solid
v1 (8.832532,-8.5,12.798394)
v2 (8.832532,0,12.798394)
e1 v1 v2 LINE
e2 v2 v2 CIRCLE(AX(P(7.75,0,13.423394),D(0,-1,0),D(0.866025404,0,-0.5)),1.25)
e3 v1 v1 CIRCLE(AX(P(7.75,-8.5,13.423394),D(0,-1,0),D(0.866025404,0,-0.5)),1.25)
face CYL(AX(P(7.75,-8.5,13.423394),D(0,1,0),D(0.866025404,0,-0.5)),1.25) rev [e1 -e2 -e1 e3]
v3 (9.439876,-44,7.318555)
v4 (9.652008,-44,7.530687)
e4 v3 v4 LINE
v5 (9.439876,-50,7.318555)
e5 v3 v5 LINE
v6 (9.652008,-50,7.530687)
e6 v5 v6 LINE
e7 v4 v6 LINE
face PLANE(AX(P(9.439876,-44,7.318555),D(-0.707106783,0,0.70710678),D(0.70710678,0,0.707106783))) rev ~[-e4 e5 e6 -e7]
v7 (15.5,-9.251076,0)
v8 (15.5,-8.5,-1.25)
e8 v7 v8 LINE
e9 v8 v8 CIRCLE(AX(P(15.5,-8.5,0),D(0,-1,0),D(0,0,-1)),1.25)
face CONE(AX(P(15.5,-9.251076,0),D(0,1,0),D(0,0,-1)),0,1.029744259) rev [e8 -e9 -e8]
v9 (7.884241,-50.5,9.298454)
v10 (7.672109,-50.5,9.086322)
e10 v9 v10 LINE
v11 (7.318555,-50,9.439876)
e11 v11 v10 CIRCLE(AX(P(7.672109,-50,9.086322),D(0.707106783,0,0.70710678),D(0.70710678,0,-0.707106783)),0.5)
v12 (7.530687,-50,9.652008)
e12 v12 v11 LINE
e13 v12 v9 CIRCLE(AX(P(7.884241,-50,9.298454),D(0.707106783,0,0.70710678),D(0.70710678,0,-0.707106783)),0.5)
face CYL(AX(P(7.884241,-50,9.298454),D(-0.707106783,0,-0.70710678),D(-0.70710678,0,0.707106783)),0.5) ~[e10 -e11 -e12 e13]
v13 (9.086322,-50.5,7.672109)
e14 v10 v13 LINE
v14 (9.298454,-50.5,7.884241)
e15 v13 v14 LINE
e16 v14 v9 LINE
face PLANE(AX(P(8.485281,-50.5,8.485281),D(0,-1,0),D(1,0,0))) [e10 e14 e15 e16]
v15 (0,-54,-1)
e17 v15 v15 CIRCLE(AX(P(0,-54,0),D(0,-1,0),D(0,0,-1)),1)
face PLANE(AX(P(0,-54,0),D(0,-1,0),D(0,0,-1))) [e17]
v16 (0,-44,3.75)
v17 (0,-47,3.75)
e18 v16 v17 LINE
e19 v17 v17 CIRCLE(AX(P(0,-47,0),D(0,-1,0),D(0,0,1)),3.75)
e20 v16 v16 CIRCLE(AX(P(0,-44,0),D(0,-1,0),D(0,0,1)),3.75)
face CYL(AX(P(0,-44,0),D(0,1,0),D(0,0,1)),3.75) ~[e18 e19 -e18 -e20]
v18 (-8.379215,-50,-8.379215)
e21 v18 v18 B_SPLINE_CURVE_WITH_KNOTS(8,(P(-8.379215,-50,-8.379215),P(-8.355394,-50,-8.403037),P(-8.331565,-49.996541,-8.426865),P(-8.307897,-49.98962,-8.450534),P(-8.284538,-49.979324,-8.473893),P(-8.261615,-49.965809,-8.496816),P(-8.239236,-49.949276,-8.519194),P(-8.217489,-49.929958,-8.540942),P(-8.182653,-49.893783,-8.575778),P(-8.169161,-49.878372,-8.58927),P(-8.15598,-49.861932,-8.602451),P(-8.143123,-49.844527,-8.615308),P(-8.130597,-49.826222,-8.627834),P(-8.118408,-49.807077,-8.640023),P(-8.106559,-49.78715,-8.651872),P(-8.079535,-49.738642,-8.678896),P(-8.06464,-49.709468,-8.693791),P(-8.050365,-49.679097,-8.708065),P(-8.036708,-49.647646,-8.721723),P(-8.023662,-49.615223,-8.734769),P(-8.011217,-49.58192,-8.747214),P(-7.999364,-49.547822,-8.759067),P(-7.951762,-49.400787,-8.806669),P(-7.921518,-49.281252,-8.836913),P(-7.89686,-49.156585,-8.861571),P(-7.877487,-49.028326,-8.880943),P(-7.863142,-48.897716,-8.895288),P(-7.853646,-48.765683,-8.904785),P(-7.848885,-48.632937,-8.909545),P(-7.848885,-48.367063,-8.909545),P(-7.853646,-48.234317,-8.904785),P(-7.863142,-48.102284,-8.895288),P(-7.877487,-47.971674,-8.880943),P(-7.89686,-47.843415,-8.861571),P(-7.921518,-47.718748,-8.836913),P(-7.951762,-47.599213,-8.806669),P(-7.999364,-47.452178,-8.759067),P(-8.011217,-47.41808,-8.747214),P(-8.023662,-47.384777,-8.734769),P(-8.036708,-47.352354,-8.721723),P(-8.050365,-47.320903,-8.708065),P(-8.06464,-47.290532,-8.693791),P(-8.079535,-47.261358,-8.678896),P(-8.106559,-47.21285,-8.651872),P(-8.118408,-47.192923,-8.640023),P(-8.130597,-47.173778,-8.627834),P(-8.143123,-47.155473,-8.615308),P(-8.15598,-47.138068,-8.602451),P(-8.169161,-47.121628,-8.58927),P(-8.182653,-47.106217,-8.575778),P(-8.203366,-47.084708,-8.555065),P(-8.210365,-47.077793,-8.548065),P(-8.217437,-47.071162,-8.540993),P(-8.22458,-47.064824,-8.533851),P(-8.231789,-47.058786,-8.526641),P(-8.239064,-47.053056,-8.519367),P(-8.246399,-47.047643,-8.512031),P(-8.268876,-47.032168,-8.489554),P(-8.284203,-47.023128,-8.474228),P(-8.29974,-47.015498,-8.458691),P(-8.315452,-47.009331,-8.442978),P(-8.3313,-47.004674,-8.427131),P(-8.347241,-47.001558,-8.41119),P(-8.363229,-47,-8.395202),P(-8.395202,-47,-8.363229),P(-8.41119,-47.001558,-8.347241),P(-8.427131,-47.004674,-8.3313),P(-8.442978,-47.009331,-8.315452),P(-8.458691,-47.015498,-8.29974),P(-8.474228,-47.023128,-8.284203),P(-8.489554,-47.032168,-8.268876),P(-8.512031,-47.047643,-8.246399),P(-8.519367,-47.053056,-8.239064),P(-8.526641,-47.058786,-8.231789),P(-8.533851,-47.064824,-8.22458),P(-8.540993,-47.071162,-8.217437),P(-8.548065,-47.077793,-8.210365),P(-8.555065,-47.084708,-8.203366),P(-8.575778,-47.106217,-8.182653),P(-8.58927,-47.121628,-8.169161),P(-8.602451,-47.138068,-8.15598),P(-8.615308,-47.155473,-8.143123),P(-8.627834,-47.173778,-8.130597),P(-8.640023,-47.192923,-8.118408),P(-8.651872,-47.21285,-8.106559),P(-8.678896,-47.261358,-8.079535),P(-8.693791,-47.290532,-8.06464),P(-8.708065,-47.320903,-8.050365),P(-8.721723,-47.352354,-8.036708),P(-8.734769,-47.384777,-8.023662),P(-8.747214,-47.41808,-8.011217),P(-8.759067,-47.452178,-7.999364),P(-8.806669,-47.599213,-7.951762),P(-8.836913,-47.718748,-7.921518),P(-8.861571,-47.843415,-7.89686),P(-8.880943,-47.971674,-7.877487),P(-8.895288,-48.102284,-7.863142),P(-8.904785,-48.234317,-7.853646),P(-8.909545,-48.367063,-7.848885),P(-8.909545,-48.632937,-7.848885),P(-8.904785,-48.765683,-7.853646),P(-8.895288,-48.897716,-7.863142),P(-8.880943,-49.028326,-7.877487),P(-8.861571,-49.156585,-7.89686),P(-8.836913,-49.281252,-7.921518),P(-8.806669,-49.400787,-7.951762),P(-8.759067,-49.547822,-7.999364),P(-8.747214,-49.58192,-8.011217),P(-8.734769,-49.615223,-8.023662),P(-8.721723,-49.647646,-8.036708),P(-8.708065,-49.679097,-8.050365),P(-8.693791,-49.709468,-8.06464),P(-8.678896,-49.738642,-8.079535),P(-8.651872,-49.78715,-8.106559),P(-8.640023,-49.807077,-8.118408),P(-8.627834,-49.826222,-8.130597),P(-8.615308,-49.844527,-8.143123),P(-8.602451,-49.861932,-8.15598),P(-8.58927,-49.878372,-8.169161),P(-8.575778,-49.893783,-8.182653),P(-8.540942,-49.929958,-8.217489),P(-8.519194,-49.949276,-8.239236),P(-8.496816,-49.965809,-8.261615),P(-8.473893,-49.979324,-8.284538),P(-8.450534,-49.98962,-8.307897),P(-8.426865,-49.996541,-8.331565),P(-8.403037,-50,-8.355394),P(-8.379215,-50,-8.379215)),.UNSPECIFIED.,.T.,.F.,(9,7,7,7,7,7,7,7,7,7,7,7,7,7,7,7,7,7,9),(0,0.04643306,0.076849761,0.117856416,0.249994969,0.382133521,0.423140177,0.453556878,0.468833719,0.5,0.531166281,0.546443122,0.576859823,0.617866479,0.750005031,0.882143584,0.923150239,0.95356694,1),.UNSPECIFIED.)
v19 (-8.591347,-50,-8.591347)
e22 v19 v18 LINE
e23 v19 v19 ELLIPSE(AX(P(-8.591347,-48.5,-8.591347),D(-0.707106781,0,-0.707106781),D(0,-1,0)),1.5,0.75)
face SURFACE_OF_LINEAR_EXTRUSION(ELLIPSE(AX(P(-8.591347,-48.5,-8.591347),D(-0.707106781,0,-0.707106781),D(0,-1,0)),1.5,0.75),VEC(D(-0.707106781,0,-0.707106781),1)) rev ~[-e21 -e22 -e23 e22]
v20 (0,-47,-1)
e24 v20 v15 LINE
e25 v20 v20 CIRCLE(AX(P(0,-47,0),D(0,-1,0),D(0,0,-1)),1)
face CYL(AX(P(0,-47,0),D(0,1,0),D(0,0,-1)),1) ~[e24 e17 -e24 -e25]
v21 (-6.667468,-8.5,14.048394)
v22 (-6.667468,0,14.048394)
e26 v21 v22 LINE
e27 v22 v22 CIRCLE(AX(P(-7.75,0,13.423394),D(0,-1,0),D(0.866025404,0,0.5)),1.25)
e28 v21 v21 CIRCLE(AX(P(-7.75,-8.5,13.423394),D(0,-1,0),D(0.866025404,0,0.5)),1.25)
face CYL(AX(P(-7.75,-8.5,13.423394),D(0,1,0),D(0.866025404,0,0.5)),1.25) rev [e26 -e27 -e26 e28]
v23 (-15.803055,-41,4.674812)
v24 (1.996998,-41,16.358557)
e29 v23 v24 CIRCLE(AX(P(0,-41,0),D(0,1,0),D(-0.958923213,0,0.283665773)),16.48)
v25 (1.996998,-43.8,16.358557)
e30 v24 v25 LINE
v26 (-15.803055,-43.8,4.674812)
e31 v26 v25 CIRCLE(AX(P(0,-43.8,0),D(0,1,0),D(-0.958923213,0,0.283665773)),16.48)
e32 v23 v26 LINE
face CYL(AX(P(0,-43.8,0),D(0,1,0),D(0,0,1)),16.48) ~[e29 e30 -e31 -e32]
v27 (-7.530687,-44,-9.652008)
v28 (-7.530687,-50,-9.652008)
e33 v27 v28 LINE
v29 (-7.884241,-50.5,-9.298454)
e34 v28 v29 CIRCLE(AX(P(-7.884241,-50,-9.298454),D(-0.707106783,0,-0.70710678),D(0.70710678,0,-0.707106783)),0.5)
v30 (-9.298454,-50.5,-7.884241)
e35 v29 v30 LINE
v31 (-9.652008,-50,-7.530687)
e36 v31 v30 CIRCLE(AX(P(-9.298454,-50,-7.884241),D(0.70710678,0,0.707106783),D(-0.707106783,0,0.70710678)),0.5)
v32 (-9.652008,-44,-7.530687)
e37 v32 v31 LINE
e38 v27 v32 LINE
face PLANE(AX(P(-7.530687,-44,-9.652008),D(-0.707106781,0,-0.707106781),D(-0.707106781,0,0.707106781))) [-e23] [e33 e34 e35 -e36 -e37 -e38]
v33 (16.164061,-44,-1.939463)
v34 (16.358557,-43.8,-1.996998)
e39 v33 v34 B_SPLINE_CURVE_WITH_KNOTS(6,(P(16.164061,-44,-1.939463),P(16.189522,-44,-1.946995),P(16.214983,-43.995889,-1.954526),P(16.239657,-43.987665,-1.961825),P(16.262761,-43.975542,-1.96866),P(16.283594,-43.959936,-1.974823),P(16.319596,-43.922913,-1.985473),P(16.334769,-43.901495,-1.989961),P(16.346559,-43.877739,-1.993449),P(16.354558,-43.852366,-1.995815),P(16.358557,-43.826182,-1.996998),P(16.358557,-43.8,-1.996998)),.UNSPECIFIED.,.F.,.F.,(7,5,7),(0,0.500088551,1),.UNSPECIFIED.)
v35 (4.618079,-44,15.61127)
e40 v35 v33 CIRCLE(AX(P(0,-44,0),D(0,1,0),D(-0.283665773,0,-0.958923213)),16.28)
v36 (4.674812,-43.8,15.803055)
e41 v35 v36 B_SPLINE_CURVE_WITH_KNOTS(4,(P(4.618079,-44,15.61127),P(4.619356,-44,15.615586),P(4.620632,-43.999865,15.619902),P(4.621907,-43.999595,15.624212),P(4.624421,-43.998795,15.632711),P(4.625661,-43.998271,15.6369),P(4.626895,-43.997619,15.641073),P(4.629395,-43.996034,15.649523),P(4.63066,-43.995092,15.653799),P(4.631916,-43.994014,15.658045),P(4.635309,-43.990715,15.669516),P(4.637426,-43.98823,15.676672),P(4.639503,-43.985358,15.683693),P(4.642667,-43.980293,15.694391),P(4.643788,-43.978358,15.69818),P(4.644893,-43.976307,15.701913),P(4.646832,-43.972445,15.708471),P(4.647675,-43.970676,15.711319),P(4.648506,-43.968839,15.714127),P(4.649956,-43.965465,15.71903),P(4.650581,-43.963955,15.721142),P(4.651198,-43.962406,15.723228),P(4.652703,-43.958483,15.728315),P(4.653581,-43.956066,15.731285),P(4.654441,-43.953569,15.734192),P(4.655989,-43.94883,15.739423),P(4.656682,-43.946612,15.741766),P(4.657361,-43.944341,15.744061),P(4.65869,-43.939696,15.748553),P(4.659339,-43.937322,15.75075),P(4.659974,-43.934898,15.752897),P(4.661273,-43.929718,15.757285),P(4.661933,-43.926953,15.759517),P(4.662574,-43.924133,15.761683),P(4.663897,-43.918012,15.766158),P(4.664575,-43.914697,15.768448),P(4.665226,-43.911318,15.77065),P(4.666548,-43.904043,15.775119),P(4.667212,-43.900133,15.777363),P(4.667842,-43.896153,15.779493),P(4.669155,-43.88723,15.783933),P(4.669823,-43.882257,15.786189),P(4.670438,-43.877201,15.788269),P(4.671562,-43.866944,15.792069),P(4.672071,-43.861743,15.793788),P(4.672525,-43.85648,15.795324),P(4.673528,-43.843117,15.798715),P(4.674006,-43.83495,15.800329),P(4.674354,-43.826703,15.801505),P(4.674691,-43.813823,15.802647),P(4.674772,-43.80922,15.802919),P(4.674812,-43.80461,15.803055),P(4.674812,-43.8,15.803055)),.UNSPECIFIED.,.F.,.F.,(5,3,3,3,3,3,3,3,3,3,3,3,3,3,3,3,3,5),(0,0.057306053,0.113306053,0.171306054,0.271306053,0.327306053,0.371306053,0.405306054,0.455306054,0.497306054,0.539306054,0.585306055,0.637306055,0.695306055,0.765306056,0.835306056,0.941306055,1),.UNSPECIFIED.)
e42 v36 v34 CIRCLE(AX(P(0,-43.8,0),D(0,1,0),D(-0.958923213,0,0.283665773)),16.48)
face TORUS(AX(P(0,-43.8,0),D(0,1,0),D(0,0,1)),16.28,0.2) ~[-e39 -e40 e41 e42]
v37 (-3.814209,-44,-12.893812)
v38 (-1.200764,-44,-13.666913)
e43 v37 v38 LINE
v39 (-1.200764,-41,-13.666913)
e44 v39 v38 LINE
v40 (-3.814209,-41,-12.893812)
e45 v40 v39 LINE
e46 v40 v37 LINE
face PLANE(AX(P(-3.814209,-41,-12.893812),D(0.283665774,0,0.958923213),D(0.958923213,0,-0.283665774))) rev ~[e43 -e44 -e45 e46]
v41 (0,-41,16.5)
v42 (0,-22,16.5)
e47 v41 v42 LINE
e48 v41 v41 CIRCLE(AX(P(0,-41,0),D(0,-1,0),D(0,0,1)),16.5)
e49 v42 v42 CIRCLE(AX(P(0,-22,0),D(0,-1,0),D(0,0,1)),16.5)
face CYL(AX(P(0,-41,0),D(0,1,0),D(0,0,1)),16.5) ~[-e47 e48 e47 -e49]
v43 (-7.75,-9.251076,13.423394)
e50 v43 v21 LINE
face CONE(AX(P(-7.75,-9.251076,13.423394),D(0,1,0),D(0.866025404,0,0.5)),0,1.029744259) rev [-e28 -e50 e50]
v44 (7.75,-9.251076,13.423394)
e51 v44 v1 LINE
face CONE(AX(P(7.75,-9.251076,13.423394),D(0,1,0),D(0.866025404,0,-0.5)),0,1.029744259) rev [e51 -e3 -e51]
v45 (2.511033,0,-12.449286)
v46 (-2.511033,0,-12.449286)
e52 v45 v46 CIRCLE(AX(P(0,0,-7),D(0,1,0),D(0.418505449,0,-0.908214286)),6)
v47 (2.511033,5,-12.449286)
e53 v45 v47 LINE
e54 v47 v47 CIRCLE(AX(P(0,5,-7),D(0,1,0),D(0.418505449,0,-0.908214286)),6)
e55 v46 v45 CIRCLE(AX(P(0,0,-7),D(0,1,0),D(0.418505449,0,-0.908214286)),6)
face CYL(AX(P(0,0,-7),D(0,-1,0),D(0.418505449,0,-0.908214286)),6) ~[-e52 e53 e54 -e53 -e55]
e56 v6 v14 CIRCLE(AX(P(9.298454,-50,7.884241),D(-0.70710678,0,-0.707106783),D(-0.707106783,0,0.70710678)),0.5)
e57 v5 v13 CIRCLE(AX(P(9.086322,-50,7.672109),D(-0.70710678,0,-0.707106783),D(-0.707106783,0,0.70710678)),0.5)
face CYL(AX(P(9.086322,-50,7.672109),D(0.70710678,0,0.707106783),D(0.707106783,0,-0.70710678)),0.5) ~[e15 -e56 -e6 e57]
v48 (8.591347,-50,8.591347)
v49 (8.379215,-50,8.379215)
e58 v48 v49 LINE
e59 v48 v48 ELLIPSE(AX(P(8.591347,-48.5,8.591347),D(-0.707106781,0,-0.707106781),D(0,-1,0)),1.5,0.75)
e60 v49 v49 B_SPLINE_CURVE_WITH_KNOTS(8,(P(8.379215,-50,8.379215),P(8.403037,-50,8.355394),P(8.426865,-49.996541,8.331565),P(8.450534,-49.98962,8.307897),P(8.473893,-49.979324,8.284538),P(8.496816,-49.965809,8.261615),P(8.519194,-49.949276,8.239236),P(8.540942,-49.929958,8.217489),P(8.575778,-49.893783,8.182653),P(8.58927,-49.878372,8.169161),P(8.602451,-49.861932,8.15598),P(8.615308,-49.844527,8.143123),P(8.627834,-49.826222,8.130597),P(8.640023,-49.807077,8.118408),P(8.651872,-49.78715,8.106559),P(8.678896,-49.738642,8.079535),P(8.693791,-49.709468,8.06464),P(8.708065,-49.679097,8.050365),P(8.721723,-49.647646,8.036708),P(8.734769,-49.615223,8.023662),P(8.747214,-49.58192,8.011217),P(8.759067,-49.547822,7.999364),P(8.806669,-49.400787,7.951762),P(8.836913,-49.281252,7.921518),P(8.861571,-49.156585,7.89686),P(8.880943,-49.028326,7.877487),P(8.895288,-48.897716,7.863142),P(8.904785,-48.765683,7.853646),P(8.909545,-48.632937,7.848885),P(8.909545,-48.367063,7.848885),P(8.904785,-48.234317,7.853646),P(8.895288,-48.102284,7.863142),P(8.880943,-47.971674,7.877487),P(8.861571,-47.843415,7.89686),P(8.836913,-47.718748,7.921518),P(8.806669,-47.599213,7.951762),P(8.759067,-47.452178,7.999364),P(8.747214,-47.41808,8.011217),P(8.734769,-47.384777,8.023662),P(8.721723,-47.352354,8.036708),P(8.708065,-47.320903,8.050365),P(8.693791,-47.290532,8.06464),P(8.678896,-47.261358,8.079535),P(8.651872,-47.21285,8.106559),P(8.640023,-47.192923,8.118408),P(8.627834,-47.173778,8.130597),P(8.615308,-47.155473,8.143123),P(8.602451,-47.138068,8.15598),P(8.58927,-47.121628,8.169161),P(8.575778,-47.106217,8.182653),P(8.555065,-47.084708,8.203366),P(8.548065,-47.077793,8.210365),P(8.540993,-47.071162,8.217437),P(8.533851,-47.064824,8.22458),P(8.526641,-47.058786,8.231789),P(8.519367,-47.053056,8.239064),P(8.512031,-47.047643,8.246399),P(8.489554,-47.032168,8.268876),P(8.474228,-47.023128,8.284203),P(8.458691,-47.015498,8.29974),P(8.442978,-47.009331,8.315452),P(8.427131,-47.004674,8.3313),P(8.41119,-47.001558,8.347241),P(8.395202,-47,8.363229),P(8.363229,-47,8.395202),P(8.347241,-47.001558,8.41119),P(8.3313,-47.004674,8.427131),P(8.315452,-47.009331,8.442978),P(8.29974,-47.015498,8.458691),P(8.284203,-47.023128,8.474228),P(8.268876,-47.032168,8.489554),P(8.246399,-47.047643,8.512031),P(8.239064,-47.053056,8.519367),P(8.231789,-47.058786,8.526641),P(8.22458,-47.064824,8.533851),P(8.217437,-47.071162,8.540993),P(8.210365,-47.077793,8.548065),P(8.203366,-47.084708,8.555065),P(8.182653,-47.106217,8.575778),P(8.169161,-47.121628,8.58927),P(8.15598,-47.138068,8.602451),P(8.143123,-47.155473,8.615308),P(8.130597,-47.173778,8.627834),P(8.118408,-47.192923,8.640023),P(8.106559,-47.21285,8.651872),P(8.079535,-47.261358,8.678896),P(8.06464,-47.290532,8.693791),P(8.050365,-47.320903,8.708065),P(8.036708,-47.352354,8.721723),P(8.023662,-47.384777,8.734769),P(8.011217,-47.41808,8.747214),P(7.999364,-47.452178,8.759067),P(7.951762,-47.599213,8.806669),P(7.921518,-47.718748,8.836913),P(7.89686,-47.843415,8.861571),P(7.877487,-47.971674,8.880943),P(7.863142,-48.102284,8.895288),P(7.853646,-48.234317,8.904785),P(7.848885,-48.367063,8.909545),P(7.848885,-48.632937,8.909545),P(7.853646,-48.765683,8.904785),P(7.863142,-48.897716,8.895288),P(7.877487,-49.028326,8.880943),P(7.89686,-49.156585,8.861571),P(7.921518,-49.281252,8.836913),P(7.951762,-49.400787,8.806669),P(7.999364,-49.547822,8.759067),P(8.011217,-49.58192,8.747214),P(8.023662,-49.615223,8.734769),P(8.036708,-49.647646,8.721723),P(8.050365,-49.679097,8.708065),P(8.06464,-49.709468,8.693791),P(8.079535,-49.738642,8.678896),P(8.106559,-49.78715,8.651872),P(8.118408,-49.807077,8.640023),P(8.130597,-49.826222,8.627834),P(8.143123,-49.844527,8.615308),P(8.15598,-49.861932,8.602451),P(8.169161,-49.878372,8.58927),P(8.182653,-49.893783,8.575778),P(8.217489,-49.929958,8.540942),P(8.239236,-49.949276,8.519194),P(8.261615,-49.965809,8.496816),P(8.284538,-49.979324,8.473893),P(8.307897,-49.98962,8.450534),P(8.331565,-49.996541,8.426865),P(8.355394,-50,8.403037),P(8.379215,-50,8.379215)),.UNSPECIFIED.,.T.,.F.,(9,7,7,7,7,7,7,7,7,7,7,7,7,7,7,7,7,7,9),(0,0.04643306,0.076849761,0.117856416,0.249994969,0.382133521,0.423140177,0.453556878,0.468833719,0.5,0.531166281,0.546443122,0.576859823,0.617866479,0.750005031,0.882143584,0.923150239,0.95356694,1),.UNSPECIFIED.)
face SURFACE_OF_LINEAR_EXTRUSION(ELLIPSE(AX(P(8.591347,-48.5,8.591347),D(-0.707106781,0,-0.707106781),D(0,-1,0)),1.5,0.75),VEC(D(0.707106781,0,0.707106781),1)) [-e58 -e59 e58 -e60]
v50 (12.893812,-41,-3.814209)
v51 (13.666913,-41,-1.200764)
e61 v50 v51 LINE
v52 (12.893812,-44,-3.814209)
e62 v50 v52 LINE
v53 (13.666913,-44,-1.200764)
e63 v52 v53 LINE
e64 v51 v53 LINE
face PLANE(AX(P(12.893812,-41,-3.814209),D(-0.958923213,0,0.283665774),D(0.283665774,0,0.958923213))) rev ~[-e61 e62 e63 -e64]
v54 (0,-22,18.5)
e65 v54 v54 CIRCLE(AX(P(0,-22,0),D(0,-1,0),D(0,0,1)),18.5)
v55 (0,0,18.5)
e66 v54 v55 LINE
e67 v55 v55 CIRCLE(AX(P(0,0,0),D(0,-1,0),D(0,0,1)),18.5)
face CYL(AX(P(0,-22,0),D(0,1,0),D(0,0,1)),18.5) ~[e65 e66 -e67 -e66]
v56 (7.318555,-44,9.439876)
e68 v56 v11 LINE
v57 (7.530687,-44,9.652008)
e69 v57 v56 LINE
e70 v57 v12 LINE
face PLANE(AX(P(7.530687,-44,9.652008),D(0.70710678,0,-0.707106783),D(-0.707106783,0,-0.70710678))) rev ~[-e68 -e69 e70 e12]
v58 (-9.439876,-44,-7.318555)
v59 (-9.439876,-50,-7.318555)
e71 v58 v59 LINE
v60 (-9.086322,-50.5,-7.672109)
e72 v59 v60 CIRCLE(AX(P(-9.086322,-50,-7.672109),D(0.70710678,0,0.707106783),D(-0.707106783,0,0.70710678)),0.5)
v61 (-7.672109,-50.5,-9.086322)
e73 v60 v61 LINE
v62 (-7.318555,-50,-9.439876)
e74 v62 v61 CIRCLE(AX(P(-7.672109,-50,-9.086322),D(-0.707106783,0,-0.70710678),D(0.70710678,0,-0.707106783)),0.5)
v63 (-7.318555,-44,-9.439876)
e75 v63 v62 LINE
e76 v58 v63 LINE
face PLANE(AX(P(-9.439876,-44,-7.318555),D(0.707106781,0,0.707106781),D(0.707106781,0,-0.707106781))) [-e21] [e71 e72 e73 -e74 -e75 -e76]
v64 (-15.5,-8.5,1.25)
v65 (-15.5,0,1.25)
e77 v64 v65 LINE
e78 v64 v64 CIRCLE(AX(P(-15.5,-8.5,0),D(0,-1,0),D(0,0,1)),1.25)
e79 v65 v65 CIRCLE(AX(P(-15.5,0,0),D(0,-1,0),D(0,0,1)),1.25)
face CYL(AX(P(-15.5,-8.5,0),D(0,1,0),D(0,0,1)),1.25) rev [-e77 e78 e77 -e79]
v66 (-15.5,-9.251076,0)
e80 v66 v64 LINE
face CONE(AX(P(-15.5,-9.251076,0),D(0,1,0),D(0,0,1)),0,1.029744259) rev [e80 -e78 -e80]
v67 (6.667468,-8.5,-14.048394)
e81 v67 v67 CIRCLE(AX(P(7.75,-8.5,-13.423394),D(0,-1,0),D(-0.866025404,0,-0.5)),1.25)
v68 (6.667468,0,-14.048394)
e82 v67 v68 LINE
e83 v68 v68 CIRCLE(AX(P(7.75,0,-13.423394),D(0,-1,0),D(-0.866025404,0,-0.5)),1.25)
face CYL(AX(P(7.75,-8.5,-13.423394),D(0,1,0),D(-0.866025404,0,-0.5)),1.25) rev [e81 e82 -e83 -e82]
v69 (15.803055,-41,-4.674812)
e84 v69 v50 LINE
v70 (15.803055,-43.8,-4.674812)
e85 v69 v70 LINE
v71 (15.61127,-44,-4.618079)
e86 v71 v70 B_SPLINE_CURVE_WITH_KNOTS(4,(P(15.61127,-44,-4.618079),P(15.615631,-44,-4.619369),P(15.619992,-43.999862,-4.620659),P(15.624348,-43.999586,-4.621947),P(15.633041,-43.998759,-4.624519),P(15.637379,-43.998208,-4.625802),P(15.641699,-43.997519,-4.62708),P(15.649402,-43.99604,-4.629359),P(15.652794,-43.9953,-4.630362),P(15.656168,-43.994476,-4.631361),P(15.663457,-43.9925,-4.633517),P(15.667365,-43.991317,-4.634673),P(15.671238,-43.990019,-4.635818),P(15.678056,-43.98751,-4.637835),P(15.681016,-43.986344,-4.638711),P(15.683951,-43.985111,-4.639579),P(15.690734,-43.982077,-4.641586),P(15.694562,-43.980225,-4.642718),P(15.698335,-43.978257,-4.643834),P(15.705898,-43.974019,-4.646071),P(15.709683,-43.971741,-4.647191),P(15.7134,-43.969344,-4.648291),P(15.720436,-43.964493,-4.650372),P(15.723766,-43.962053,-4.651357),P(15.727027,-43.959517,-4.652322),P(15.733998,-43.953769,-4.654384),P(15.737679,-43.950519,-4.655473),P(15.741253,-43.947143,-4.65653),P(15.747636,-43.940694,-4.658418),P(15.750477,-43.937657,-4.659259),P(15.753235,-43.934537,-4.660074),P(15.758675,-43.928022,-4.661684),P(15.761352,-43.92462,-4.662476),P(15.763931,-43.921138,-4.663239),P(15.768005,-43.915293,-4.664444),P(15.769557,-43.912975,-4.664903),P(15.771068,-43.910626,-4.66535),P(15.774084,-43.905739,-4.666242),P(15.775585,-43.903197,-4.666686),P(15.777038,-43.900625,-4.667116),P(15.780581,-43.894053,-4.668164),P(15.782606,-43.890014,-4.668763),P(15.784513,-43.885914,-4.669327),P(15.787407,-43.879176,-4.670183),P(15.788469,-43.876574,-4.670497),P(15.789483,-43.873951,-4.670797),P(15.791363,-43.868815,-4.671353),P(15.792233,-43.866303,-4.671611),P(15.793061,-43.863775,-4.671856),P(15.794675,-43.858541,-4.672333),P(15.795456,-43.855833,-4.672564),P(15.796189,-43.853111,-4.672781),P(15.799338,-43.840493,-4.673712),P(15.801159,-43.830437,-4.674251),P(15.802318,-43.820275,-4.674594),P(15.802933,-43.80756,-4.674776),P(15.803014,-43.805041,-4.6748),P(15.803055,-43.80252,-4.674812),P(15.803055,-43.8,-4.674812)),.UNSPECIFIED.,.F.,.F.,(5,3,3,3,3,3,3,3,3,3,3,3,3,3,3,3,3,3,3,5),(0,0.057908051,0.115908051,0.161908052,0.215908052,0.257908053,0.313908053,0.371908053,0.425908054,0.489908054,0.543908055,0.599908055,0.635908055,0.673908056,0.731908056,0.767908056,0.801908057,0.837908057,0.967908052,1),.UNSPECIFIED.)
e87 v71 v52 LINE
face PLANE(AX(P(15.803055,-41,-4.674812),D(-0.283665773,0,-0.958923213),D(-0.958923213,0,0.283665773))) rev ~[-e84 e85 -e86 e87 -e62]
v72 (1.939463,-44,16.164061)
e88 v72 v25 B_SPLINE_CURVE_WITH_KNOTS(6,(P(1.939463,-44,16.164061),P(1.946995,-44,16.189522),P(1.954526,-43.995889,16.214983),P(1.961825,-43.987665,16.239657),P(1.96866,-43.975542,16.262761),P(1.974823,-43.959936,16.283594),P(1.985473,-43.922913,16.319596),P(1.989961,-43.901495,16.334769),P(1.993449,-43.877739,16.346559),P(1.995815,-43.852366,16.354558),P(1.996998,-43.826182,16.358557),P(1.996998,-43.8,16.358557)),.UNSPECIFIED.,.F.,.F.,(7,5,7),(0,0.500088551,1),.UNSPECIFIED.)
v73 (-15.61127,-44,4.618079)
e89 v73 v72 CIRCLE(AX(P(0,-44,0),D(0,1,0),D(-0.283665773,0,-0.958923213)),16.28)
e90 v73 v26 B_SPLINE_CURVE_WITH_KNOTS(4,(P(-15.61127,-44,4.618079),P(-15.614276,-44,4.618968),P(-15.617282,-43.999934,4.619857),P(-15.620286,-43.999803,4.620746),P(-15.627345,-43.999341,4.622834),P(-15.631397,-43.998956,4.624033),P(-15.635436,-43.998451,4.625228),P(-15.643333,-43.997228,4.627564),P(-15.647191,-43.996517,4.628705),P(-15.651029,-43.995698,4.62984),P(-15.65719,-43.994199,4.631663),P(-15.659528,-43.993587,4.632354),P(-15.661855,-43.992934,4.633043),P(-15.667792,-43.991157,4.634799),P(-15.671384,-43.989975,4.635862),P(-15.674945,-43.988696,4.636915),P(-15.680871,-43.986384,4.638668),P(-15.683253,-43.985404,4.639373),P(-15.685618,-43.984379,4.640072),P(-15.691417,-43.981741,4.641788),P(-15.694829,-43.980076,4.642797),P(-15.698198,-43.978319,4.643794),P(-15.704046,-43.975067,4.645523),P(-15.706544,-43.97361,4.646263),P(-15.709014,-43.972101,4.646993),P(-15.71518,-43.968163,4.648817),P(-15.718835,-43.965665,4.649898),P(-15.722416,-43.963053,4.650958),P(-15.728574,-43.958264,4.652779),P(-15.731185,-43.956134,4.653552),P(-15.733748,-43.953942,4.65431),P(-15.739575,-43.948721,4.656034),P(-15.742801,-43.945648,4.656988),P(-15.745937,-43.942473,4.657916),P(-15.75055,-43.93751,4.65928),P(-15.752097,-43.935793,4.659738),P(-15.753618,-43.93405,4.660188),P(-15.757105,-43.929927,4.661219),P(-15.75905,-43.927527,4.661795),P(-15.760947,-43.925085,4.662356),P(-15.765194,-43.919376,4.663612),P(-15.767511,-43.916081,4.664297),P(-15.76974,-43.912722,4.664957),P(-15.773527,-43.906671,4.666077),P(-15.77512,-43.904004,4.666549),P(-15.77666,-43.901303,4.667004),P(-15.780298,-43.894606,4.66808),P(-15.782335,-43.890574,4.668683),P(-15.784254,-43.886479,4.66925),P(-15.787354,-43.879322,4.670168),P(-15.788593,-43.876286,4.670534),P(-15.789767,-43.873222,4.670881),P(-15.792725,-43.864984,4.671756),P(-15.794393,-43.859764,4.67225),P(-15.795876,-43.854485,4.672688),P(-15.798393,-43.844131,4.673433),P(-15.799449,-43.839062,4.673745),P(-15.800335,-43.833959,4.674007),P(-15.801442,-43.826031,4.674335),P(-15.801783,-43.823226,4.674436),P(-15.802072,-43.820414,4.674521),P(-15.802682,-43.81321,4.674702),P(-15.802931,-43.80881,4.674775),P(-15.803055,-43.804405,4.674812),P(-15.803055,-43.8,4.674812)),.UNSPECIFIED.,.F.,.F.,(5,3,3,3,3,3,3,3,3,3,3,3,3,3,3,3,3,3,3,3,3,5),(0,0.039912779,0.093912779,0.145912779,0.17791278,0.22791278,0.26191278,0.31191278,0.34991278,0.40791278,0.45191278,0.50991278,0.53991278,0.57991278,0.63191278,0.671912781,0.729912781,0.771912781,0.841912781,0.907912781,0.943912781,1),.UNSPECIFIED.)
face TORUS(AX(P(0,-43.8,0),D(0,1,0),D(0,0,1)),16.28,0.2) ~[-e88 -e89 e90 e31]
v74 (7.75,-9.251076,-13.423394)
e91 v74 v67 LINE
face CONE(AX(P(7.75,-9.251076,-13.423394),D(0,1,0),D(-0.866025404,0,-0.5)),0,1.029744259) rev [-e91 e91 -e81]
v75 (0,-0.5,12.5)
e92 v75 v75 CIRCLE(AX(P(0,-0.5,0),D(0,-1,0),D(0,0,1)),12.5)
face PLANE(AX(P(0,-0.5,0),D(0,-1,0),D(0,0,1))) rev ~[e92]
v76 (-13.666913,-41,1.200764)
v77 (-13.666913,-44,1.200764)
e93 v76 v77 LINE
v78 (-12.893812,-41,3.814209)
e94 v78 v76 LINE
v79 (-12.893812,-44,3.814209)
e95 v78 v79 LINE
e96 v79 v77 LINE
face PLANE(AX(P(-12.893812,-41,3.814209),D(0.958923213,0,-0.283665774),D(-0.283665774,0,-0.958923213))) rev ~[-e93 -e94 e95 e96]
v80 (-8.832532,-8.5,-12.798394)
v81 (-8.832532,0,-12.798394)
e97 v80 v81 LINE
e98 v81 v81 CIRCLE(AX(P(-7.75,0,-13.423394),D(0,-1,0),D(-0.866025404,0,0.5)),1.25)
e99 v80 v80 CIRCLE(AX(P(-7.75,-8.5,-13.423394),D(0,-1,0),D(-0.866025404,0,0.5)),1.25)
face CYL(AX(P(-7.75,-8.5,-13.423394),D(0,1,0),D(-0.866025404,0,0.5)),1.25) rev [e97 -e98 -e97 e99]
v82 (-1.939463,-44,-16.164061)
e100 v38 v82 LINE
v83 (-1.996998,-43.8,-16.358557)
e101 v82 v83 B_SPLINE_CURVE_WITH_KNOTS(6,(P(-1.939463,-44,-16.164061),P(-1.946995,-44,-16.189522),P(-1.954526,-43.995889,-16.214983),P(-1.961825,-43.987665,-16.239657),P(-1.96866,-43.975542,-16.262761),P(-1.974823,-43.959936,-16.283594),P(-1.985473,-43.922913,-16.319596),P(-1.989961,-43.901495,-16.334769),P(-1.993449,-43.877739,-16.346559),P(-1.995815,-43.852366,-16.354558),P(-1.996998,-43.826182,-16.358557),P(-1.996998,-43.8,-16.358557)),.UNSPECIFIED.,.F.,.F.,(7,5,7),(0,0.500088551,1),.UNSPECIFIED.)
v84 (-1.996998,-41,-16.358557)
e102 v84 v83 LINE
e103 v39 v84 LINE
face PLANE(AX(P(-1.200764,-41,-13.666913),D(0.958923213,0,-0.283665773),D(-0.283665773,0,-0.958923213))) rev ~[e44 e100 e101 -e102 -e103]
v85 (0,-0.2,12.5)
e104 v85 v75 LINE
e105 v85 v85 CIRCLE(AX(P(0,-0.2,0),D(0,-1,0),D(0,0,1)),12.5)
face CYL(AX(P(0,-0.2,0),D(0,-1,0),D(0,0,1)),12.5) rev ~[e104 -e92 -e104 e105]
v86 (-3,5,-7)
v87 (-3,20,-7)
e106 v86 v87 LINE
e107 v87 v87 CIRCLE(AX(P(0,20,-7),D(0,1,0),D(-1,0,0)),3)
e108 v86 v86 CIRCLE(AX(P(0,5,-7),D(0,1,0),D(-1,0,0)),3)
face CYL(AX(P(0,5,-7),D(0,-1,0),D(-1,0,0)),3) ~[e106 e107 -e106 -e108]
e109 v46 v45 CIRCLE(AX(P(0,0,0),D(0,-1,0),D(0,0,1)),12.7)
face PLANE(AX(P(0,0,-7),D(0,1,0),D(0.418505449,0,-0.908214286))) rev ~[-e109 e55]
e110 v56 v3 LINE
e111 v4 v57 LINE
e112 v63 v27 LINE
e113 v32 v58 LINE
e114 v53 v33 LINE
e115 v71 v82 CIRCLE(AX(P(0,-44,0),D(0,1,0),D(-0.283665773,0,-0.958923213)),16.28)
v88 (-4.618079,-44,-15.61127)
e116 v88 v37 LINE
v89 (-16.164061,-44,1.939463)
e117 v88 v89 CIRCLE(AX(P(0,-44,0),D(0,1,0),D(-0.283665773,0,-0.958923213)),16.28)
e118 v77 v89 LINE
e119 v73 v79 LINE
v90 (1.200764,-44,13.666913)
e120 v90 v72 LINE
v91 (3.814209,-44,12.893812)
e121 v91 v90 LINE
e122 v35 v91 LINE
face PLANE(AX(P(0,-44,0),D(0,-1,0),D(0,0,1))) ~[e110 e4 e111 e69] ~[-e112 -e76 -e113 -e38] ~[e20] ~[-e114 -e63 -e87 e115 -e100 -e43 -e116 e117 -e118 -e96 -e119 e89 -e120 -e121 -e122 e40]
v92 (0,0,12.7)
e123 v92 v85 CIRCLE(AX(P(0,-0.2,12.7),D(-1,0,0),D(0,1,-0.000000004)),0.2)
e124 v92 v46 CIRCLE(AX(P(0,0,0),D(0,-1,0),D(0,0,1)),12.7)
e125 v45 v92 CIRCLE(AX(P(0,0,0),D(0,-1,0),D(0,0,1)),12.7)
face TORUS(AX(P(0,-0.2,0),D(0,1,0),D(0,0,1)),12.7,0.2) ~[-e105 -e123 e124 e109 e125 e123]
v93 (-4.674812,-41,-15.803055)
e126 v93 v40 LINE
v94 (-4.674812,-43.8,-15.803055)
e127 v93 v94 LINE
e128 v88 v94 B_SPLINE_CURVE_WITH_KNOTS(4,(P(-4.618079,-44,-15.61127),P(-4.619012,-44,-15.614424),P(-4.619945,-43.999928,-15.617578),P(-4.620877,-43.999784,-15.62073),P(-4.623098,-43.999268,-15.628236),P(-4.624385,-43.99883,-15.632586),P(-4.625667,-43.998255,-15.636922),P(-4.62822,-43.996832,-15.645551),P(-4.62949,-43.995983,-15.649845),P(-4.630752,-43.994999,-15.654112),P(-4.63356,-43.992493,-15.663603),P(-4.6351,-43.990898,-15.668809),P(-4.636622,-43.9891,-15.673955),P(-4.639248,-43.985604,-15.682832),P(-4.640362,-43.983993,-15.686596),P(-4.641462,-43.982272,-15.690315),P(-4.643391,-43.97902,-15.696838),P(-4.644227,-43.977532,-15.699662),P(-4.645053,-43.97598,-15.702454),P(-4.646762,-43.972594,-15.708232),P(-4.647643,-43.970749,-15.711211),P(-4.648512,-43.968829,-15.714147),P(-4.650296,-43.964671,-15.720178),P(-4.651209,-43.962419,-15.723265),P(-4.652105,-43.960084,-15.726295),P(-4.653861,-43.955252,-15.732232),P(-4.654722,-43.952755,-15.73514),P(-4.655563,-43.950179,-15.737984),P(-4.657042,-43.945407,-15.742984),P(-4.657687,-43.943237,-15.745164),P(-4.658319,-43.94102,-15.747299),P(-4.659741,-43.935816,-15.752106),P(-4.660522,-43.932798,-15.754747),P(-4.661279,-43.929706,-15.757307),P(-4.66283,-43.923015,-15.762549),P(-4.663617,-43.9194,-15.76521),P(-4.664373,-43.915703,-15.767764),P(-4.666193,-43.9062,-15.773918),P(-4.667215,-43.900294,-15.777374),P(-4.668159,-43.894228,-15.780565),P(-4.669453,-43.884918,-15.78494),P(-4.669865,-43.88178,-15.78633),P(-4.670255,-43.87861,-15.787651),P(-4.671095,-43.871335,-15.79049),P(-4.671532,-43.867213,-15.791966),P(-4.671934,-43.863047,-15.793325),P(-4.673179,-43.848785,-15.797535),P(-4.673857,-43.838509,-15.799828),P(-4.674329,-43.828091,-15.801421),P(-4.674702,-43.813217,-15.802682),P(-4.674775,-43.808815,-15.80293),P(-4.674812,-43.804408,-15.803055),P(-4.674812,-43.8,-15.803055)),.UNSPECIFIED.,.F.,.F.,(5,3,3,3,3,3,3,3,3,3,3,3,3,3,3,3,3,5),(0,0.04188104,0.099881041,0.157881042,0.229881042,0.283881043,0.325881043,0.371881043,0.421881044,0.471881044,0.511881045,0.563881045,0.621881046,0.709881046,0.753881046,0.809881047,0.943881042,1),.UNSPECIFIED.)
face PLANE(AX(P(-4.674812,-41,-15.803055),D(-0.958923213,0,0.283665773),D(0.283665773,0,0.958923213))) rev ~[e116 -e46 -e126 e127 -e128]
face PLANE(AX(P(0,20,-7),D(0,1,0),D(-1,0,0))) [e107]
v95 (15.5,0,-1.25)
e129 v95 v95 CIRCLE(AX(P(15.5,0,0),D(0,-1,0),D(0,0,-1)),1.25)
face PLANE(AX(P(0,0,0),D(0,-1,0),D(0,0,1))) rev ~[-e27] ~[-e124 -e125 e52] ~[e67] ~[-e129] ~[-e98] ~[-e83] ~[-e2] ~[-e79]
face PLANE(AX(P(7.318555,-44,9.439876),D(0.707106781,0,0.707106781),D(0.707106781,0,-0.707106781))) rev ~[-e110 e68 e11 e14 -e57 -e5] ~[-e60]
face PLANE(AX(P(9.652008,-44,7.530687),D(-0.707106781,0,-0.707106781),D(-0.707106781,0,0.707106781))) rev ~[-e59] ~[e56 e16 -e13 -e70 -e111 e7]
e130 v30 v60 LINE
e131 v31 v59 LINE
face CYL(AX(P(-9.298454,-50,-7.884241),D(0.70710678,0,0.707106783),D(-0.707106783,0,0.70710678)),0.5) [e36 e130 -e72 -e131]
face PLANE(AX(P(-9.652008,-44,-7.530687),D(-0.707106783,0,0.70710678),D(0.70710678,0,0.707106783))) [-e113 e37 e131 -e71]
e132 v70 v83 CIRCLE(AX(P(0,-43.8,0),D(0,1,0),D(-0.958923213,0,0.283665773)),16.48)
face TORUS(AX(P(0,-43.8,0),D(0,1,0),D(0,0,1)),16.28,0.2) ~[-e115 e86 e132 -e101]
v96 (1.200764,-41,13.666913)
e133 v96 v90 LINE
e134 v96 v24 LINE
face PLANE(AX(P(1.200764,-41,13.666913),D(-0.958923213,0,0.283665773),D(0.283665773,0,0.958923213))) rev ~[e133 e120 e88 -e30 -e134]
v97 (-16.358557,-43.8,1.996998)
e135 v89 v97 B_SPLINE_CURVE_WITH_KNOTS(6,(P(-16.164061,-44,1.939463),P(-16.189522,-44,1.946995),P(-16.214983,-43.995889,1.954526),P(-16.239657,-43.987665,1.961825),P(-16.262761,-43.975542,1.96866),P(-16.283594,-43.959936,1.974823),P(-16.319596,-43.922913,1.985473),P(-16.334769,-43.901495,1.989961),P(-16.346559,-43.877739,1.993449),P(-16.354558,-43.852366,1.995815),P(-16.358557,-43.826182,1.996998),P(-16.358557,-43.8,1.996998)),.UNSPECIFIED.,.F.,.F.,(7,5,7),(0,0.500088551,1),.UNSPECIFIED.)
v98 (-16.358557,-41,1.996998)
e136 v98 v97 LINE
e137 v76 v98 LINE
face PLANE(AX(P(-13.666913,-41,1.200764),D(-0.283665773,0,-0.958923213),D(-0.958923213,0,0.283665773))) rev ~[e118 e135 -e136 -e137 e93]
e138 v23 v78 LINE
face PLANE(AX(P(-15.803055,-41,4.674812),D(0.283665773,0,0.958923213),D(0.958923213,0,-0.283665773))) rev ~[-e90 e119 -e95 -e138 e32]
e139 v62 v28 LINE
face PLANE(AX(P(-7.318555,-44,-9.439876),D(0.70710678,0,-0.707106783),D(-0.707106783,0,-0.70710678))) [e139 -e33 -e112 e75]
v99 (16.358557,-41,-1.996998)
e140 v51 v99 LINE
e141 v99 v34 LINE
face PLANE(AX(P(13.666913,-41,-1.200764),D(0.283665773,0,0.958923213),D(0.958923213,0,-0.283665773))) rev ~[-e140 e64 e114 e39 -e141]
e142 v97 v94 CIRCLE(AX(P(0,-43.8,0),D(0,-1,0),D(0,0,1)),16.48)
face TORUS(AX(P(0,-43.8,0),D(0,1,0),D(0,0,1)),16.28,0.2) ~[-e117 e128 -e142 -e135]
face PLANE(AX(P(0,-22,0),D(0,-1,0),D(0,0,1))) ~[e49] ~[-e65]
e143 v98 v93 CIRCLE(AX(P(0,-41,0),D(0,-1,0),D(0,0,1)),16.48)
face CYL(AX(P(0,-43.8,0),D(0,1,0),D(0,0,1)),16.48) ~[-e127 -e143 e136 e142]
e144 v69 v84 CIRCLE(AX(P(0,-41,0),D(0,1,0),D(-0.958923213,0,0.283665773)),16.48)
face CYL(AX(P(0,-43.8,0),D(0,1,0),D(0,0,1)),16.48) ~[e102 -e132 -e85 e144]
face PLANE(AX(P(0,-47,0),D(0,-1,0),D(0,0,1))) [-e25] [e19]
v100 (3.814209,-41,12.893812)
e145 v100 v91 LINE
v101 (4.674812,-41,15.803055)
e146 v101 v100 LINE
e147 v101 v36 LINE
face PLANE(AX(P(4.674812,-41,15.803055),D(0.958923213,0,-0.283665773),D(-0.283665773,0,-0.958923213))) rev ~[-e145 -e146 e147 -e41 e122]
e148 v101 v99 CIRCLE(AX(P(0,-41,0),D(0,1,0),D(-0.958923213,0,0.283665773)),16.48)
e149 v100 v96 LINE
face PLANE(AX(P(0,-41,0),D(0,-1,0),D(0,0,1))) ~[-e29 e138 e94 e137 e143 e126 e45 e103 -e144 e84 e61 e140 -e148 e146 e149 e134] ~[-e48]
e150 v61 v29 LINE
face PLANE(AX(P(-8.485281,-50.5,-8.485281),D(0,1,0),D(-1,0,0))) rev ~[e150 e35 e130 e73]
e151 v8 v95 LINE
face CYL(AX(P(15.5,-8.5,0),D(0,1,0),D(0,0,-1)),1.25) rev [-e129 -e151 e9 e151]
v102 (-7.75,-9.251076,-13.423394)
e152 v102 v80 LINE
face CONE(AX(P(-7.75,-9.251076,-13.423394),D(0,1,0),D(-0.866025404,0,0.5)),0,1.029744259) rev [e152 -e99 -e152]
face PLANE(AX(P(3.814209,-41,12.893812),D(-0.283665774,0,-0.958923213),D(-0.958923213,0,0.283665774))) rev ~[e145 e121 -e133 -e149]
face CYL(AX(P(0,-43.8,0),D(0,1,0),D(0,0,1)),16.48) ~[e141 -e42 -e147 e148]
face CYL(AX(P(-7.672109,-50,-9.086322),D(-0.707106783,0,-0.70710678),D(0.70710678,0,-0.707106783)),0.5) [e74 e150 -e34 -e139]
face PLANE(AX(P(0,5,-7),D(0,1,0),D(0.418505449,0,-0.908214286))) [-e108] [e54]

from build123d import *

# Parameters (mm, degrees)
PATTERN_CIRCULAR_1_COUNT = 6
SKETCH_4_R               = 6
EXTRUDE_1_DEPTH          = 5
SKETCH_5_R               = 3
EXTRUDE_2_DEPTH          = 15
SKETCH_6_R               = 3.75
EXTRUDE_3_DEPTH          = 3
SKETCH_7_R               = 1
EXTRUDE_4_DEPTH          = 7
CUT_EXTRUDE_START        = -3
CUT_EXTRUDE_1_DEPTH      = 3
PATTERN_CIRCULAR_2_COUNT = 4
EXTRUDE_5_DEPTH          = 6.5
SKETCH_10_RX             = 1.5
SKETCH_10_RY             = 0.75
CUT_EXTRUDE_2_DEPTH      = 3
FILLET_1_R               = 0.5


with BuildPart() as part:
    # 草图1 → 旋转1 (revolve)
    with BuildSketch(Plane.XY, mode=Mode.PRIVATE) as revolve_1_sk:
        with BuildLine():
            Line((0, -0.5), (0, -44))
            Line((0, -44), (16.28, -44))
            ThreePointArc((16.28, -44), (16.421421356, -43.941421356), (16.48, -43.8))
            Line((16.48, -43.8), (16.48, -41))
            Line((16.48, -41), (16.5, -41))
            Line((16.5, -41), (16.5, -22))
            Line((16.5, -22), (18.5, -22))
            Line((18.5, -22), (18.5, 0))
            Line((18.5, 0), (12.7, 0))
            ThreePointArc((12.7, 0), (12.558578644, -0.058578644), (12.5, -0.2))
            Line((12.5, -0.2), (12.5, -0.5))
            Line((12.5, -0.5), (0, -0.5))
        make_face()
    revolve(revolve_1_sk.sketch.rotate(Axis((0, -0.5, 0), (0, -1, 0)), 90), axis=Axis((0, -0.5, 0), (0, -1, 0)))

    # 草图2 → M3 螺纹孔1 (revolve, cut)
    with BuildSketch(Plane(origin=(-15.5, 0, 0), x_dir=(0, 0, 1), z_dir=(1, 0, 0))):
        Polygon((0, 0), (0, 9.251075774), (1.25, 8.5), (1.25, 0), align=None)
    hole_wizard_m3_1 = revolve(axis=Axis((-15.5, 6.35, 0), (0, -1, 0)), mode=Mode.SUBTRACT)

    # 阵列(圆周)1: M3 螺纹孔1 ×6 about axis
    pattern_circular_1_axis = Axis((0, 0, 0), (0, 1, 0))
    for i in range(1, PATTERN_CIRCULAR_1_COUNT):
        add(hole_wizard_m3_1.rotate(pattern_circular_1_axis, i * 360 / PATTERN_CIRCULAR_1_COUNT), mode=Mode.SUBTRACT)

    # 草图4 → 凸台-拉伸1 (add)
    with BuildSketch(Plane(origin=(0, 0, 0), x_dir=(1, 0, 0), z_dir=(0, 1, 0))):
        with Locations(Location((0, 7, 0), (0, 0, 65.259733828))):
            Circle(SKETCH_4_R)
    extrude(amount=EXTRUDE_1_DEPTH)

    # 草图5 → 凸台-拉伸2 (add)
    with BuildSketch(Plane(origin=(0, 5, 0), x_dir=(1, 0, 0), z_dir=(0, 1, 0))):
        with Locations(Location((0, 7, 0), (0, 0, 180))):
            Circle(SKETCH_5_R)
    extrude(amount=EXTRUDE_2_DEPTH)

    # 草图6 → 凸台-拉伸3 (add)
    with BuildSketch(Plane.XZ.offset(44)):
        with Locations(Location((0, 0, 0), (0, 0, 90))):
            Circle(SKETCH_6_R)
    extrude(amount=EXTRUDE_3_DEPTH)

    # 草图7 → 凸台-拉伸4 (add)
    with BuildSketch(Plane.XZ.offset(47)):
        with Locations(Location((0, 0, 0), (0, 0, 270))):
            Circle(SKETCH_7_R)
    extrude(amount=EXTRUDE_4_DEPTH)

    # 草图8 → 切除-拉伸1 (cut)
    with BuildSketch(Plane.XZ.offset(44).offset(CUT_EXTRUDE_START)):
        with BuildLine():
            Line((-4.674811946, -15.803054555), (-3.814208524, -12.893811788))
            Line((-3.814208524, -12.893811788), (-1.200764091, -13.66691304))
            Line((-1.200764091, -13.66691304), (-1.996998191, -16.358557339))
            ThreePointArc((-1.996998191, -16.358557339), (-3.347448052, -16.136449161), (-4.674811946, -15.803054555))
        make_face()
    cut_extrude_1 = extrude(amount=CUT_EXTRUDE_1_DEPTH, mode=Mode.SUBTRACT)

    # 阵列(圆周)2: 切除-拉伸1 ×4 about axis
    pattern_circular_2_axis = Axis((0, 0, 0), (0, 1, 0))
    for i in range(1, PATTERN_CIRCULAR_2_COUNT):
        add(cut_extrude_1.rotate(pattern_circular_2_axis, i * 360 / PATTERN_CIRCULAR_2_COUNT), mode=Mode.SUBTRACT)

    # 草图9 → 凸台-拉伸5 (add)
    with BuildSketch(Plane.XZ.offset(44)):
        Polygon((-9.439875529, -7.318555185), (-7.318555185, -9.439875529), (-7.53068722, -9.652007563), (-9.652007563, -7.53068722), align=None)
        Polygon((7.53068722, 9.652007563), (7.318555185, 9.439875529), (9.439875529, 7.318555185), (9.652007563, 7.53068722), align=None)
    extrude(amount=EXTRUDE_5_DEPTH)

    # 草图10 → 切除-拉伸2 (cut)
    with BuildSketch(Plane(origin=(-8.591347391, 0, -8.591347391), x_dir=(-0.7071067811865307, 0, 0.7071067811865643), z_dir=(-0.7071067811865643, 0, -0.7071067811865307))):
        with Locations(Location((0, -48.5), (0, 0, -90))):
            Ellipse(SKETCH_10_RX, SKETCH_10_RY)
    cut_extrude_2 = extrude(amount=-CUT_EXTRUDE_2_DEPTH, mode=Mode.SUBTRACT)

    # 圆角1
    fillet_1_edges = [part.edges().sort_by_distance(p)[0] for p in [
        (7.424621202, -50.5, 9.545941546),
        (9.545941546, -50.5, 7.424621202),
        (-7.424621202, -50.5, -9.545941546),
        (-9.545941546, -50.5, -7.424621202),
    ]]
    fillet(fillet_1_edges, radius=FILLET_1_R)

    # 镜向5: 切除-拉伸2 across plane
    add(cut_extrude_2.mirror(Plane(origin=(0, 0, 0), x_dir=(-0.7071067811865388, 0, 0.7071067811865562), z_dir=(-0.7071067811865562, 0, -0.7071067811865388))), mode=Mode.SUBTRACT)


solid = part.part
